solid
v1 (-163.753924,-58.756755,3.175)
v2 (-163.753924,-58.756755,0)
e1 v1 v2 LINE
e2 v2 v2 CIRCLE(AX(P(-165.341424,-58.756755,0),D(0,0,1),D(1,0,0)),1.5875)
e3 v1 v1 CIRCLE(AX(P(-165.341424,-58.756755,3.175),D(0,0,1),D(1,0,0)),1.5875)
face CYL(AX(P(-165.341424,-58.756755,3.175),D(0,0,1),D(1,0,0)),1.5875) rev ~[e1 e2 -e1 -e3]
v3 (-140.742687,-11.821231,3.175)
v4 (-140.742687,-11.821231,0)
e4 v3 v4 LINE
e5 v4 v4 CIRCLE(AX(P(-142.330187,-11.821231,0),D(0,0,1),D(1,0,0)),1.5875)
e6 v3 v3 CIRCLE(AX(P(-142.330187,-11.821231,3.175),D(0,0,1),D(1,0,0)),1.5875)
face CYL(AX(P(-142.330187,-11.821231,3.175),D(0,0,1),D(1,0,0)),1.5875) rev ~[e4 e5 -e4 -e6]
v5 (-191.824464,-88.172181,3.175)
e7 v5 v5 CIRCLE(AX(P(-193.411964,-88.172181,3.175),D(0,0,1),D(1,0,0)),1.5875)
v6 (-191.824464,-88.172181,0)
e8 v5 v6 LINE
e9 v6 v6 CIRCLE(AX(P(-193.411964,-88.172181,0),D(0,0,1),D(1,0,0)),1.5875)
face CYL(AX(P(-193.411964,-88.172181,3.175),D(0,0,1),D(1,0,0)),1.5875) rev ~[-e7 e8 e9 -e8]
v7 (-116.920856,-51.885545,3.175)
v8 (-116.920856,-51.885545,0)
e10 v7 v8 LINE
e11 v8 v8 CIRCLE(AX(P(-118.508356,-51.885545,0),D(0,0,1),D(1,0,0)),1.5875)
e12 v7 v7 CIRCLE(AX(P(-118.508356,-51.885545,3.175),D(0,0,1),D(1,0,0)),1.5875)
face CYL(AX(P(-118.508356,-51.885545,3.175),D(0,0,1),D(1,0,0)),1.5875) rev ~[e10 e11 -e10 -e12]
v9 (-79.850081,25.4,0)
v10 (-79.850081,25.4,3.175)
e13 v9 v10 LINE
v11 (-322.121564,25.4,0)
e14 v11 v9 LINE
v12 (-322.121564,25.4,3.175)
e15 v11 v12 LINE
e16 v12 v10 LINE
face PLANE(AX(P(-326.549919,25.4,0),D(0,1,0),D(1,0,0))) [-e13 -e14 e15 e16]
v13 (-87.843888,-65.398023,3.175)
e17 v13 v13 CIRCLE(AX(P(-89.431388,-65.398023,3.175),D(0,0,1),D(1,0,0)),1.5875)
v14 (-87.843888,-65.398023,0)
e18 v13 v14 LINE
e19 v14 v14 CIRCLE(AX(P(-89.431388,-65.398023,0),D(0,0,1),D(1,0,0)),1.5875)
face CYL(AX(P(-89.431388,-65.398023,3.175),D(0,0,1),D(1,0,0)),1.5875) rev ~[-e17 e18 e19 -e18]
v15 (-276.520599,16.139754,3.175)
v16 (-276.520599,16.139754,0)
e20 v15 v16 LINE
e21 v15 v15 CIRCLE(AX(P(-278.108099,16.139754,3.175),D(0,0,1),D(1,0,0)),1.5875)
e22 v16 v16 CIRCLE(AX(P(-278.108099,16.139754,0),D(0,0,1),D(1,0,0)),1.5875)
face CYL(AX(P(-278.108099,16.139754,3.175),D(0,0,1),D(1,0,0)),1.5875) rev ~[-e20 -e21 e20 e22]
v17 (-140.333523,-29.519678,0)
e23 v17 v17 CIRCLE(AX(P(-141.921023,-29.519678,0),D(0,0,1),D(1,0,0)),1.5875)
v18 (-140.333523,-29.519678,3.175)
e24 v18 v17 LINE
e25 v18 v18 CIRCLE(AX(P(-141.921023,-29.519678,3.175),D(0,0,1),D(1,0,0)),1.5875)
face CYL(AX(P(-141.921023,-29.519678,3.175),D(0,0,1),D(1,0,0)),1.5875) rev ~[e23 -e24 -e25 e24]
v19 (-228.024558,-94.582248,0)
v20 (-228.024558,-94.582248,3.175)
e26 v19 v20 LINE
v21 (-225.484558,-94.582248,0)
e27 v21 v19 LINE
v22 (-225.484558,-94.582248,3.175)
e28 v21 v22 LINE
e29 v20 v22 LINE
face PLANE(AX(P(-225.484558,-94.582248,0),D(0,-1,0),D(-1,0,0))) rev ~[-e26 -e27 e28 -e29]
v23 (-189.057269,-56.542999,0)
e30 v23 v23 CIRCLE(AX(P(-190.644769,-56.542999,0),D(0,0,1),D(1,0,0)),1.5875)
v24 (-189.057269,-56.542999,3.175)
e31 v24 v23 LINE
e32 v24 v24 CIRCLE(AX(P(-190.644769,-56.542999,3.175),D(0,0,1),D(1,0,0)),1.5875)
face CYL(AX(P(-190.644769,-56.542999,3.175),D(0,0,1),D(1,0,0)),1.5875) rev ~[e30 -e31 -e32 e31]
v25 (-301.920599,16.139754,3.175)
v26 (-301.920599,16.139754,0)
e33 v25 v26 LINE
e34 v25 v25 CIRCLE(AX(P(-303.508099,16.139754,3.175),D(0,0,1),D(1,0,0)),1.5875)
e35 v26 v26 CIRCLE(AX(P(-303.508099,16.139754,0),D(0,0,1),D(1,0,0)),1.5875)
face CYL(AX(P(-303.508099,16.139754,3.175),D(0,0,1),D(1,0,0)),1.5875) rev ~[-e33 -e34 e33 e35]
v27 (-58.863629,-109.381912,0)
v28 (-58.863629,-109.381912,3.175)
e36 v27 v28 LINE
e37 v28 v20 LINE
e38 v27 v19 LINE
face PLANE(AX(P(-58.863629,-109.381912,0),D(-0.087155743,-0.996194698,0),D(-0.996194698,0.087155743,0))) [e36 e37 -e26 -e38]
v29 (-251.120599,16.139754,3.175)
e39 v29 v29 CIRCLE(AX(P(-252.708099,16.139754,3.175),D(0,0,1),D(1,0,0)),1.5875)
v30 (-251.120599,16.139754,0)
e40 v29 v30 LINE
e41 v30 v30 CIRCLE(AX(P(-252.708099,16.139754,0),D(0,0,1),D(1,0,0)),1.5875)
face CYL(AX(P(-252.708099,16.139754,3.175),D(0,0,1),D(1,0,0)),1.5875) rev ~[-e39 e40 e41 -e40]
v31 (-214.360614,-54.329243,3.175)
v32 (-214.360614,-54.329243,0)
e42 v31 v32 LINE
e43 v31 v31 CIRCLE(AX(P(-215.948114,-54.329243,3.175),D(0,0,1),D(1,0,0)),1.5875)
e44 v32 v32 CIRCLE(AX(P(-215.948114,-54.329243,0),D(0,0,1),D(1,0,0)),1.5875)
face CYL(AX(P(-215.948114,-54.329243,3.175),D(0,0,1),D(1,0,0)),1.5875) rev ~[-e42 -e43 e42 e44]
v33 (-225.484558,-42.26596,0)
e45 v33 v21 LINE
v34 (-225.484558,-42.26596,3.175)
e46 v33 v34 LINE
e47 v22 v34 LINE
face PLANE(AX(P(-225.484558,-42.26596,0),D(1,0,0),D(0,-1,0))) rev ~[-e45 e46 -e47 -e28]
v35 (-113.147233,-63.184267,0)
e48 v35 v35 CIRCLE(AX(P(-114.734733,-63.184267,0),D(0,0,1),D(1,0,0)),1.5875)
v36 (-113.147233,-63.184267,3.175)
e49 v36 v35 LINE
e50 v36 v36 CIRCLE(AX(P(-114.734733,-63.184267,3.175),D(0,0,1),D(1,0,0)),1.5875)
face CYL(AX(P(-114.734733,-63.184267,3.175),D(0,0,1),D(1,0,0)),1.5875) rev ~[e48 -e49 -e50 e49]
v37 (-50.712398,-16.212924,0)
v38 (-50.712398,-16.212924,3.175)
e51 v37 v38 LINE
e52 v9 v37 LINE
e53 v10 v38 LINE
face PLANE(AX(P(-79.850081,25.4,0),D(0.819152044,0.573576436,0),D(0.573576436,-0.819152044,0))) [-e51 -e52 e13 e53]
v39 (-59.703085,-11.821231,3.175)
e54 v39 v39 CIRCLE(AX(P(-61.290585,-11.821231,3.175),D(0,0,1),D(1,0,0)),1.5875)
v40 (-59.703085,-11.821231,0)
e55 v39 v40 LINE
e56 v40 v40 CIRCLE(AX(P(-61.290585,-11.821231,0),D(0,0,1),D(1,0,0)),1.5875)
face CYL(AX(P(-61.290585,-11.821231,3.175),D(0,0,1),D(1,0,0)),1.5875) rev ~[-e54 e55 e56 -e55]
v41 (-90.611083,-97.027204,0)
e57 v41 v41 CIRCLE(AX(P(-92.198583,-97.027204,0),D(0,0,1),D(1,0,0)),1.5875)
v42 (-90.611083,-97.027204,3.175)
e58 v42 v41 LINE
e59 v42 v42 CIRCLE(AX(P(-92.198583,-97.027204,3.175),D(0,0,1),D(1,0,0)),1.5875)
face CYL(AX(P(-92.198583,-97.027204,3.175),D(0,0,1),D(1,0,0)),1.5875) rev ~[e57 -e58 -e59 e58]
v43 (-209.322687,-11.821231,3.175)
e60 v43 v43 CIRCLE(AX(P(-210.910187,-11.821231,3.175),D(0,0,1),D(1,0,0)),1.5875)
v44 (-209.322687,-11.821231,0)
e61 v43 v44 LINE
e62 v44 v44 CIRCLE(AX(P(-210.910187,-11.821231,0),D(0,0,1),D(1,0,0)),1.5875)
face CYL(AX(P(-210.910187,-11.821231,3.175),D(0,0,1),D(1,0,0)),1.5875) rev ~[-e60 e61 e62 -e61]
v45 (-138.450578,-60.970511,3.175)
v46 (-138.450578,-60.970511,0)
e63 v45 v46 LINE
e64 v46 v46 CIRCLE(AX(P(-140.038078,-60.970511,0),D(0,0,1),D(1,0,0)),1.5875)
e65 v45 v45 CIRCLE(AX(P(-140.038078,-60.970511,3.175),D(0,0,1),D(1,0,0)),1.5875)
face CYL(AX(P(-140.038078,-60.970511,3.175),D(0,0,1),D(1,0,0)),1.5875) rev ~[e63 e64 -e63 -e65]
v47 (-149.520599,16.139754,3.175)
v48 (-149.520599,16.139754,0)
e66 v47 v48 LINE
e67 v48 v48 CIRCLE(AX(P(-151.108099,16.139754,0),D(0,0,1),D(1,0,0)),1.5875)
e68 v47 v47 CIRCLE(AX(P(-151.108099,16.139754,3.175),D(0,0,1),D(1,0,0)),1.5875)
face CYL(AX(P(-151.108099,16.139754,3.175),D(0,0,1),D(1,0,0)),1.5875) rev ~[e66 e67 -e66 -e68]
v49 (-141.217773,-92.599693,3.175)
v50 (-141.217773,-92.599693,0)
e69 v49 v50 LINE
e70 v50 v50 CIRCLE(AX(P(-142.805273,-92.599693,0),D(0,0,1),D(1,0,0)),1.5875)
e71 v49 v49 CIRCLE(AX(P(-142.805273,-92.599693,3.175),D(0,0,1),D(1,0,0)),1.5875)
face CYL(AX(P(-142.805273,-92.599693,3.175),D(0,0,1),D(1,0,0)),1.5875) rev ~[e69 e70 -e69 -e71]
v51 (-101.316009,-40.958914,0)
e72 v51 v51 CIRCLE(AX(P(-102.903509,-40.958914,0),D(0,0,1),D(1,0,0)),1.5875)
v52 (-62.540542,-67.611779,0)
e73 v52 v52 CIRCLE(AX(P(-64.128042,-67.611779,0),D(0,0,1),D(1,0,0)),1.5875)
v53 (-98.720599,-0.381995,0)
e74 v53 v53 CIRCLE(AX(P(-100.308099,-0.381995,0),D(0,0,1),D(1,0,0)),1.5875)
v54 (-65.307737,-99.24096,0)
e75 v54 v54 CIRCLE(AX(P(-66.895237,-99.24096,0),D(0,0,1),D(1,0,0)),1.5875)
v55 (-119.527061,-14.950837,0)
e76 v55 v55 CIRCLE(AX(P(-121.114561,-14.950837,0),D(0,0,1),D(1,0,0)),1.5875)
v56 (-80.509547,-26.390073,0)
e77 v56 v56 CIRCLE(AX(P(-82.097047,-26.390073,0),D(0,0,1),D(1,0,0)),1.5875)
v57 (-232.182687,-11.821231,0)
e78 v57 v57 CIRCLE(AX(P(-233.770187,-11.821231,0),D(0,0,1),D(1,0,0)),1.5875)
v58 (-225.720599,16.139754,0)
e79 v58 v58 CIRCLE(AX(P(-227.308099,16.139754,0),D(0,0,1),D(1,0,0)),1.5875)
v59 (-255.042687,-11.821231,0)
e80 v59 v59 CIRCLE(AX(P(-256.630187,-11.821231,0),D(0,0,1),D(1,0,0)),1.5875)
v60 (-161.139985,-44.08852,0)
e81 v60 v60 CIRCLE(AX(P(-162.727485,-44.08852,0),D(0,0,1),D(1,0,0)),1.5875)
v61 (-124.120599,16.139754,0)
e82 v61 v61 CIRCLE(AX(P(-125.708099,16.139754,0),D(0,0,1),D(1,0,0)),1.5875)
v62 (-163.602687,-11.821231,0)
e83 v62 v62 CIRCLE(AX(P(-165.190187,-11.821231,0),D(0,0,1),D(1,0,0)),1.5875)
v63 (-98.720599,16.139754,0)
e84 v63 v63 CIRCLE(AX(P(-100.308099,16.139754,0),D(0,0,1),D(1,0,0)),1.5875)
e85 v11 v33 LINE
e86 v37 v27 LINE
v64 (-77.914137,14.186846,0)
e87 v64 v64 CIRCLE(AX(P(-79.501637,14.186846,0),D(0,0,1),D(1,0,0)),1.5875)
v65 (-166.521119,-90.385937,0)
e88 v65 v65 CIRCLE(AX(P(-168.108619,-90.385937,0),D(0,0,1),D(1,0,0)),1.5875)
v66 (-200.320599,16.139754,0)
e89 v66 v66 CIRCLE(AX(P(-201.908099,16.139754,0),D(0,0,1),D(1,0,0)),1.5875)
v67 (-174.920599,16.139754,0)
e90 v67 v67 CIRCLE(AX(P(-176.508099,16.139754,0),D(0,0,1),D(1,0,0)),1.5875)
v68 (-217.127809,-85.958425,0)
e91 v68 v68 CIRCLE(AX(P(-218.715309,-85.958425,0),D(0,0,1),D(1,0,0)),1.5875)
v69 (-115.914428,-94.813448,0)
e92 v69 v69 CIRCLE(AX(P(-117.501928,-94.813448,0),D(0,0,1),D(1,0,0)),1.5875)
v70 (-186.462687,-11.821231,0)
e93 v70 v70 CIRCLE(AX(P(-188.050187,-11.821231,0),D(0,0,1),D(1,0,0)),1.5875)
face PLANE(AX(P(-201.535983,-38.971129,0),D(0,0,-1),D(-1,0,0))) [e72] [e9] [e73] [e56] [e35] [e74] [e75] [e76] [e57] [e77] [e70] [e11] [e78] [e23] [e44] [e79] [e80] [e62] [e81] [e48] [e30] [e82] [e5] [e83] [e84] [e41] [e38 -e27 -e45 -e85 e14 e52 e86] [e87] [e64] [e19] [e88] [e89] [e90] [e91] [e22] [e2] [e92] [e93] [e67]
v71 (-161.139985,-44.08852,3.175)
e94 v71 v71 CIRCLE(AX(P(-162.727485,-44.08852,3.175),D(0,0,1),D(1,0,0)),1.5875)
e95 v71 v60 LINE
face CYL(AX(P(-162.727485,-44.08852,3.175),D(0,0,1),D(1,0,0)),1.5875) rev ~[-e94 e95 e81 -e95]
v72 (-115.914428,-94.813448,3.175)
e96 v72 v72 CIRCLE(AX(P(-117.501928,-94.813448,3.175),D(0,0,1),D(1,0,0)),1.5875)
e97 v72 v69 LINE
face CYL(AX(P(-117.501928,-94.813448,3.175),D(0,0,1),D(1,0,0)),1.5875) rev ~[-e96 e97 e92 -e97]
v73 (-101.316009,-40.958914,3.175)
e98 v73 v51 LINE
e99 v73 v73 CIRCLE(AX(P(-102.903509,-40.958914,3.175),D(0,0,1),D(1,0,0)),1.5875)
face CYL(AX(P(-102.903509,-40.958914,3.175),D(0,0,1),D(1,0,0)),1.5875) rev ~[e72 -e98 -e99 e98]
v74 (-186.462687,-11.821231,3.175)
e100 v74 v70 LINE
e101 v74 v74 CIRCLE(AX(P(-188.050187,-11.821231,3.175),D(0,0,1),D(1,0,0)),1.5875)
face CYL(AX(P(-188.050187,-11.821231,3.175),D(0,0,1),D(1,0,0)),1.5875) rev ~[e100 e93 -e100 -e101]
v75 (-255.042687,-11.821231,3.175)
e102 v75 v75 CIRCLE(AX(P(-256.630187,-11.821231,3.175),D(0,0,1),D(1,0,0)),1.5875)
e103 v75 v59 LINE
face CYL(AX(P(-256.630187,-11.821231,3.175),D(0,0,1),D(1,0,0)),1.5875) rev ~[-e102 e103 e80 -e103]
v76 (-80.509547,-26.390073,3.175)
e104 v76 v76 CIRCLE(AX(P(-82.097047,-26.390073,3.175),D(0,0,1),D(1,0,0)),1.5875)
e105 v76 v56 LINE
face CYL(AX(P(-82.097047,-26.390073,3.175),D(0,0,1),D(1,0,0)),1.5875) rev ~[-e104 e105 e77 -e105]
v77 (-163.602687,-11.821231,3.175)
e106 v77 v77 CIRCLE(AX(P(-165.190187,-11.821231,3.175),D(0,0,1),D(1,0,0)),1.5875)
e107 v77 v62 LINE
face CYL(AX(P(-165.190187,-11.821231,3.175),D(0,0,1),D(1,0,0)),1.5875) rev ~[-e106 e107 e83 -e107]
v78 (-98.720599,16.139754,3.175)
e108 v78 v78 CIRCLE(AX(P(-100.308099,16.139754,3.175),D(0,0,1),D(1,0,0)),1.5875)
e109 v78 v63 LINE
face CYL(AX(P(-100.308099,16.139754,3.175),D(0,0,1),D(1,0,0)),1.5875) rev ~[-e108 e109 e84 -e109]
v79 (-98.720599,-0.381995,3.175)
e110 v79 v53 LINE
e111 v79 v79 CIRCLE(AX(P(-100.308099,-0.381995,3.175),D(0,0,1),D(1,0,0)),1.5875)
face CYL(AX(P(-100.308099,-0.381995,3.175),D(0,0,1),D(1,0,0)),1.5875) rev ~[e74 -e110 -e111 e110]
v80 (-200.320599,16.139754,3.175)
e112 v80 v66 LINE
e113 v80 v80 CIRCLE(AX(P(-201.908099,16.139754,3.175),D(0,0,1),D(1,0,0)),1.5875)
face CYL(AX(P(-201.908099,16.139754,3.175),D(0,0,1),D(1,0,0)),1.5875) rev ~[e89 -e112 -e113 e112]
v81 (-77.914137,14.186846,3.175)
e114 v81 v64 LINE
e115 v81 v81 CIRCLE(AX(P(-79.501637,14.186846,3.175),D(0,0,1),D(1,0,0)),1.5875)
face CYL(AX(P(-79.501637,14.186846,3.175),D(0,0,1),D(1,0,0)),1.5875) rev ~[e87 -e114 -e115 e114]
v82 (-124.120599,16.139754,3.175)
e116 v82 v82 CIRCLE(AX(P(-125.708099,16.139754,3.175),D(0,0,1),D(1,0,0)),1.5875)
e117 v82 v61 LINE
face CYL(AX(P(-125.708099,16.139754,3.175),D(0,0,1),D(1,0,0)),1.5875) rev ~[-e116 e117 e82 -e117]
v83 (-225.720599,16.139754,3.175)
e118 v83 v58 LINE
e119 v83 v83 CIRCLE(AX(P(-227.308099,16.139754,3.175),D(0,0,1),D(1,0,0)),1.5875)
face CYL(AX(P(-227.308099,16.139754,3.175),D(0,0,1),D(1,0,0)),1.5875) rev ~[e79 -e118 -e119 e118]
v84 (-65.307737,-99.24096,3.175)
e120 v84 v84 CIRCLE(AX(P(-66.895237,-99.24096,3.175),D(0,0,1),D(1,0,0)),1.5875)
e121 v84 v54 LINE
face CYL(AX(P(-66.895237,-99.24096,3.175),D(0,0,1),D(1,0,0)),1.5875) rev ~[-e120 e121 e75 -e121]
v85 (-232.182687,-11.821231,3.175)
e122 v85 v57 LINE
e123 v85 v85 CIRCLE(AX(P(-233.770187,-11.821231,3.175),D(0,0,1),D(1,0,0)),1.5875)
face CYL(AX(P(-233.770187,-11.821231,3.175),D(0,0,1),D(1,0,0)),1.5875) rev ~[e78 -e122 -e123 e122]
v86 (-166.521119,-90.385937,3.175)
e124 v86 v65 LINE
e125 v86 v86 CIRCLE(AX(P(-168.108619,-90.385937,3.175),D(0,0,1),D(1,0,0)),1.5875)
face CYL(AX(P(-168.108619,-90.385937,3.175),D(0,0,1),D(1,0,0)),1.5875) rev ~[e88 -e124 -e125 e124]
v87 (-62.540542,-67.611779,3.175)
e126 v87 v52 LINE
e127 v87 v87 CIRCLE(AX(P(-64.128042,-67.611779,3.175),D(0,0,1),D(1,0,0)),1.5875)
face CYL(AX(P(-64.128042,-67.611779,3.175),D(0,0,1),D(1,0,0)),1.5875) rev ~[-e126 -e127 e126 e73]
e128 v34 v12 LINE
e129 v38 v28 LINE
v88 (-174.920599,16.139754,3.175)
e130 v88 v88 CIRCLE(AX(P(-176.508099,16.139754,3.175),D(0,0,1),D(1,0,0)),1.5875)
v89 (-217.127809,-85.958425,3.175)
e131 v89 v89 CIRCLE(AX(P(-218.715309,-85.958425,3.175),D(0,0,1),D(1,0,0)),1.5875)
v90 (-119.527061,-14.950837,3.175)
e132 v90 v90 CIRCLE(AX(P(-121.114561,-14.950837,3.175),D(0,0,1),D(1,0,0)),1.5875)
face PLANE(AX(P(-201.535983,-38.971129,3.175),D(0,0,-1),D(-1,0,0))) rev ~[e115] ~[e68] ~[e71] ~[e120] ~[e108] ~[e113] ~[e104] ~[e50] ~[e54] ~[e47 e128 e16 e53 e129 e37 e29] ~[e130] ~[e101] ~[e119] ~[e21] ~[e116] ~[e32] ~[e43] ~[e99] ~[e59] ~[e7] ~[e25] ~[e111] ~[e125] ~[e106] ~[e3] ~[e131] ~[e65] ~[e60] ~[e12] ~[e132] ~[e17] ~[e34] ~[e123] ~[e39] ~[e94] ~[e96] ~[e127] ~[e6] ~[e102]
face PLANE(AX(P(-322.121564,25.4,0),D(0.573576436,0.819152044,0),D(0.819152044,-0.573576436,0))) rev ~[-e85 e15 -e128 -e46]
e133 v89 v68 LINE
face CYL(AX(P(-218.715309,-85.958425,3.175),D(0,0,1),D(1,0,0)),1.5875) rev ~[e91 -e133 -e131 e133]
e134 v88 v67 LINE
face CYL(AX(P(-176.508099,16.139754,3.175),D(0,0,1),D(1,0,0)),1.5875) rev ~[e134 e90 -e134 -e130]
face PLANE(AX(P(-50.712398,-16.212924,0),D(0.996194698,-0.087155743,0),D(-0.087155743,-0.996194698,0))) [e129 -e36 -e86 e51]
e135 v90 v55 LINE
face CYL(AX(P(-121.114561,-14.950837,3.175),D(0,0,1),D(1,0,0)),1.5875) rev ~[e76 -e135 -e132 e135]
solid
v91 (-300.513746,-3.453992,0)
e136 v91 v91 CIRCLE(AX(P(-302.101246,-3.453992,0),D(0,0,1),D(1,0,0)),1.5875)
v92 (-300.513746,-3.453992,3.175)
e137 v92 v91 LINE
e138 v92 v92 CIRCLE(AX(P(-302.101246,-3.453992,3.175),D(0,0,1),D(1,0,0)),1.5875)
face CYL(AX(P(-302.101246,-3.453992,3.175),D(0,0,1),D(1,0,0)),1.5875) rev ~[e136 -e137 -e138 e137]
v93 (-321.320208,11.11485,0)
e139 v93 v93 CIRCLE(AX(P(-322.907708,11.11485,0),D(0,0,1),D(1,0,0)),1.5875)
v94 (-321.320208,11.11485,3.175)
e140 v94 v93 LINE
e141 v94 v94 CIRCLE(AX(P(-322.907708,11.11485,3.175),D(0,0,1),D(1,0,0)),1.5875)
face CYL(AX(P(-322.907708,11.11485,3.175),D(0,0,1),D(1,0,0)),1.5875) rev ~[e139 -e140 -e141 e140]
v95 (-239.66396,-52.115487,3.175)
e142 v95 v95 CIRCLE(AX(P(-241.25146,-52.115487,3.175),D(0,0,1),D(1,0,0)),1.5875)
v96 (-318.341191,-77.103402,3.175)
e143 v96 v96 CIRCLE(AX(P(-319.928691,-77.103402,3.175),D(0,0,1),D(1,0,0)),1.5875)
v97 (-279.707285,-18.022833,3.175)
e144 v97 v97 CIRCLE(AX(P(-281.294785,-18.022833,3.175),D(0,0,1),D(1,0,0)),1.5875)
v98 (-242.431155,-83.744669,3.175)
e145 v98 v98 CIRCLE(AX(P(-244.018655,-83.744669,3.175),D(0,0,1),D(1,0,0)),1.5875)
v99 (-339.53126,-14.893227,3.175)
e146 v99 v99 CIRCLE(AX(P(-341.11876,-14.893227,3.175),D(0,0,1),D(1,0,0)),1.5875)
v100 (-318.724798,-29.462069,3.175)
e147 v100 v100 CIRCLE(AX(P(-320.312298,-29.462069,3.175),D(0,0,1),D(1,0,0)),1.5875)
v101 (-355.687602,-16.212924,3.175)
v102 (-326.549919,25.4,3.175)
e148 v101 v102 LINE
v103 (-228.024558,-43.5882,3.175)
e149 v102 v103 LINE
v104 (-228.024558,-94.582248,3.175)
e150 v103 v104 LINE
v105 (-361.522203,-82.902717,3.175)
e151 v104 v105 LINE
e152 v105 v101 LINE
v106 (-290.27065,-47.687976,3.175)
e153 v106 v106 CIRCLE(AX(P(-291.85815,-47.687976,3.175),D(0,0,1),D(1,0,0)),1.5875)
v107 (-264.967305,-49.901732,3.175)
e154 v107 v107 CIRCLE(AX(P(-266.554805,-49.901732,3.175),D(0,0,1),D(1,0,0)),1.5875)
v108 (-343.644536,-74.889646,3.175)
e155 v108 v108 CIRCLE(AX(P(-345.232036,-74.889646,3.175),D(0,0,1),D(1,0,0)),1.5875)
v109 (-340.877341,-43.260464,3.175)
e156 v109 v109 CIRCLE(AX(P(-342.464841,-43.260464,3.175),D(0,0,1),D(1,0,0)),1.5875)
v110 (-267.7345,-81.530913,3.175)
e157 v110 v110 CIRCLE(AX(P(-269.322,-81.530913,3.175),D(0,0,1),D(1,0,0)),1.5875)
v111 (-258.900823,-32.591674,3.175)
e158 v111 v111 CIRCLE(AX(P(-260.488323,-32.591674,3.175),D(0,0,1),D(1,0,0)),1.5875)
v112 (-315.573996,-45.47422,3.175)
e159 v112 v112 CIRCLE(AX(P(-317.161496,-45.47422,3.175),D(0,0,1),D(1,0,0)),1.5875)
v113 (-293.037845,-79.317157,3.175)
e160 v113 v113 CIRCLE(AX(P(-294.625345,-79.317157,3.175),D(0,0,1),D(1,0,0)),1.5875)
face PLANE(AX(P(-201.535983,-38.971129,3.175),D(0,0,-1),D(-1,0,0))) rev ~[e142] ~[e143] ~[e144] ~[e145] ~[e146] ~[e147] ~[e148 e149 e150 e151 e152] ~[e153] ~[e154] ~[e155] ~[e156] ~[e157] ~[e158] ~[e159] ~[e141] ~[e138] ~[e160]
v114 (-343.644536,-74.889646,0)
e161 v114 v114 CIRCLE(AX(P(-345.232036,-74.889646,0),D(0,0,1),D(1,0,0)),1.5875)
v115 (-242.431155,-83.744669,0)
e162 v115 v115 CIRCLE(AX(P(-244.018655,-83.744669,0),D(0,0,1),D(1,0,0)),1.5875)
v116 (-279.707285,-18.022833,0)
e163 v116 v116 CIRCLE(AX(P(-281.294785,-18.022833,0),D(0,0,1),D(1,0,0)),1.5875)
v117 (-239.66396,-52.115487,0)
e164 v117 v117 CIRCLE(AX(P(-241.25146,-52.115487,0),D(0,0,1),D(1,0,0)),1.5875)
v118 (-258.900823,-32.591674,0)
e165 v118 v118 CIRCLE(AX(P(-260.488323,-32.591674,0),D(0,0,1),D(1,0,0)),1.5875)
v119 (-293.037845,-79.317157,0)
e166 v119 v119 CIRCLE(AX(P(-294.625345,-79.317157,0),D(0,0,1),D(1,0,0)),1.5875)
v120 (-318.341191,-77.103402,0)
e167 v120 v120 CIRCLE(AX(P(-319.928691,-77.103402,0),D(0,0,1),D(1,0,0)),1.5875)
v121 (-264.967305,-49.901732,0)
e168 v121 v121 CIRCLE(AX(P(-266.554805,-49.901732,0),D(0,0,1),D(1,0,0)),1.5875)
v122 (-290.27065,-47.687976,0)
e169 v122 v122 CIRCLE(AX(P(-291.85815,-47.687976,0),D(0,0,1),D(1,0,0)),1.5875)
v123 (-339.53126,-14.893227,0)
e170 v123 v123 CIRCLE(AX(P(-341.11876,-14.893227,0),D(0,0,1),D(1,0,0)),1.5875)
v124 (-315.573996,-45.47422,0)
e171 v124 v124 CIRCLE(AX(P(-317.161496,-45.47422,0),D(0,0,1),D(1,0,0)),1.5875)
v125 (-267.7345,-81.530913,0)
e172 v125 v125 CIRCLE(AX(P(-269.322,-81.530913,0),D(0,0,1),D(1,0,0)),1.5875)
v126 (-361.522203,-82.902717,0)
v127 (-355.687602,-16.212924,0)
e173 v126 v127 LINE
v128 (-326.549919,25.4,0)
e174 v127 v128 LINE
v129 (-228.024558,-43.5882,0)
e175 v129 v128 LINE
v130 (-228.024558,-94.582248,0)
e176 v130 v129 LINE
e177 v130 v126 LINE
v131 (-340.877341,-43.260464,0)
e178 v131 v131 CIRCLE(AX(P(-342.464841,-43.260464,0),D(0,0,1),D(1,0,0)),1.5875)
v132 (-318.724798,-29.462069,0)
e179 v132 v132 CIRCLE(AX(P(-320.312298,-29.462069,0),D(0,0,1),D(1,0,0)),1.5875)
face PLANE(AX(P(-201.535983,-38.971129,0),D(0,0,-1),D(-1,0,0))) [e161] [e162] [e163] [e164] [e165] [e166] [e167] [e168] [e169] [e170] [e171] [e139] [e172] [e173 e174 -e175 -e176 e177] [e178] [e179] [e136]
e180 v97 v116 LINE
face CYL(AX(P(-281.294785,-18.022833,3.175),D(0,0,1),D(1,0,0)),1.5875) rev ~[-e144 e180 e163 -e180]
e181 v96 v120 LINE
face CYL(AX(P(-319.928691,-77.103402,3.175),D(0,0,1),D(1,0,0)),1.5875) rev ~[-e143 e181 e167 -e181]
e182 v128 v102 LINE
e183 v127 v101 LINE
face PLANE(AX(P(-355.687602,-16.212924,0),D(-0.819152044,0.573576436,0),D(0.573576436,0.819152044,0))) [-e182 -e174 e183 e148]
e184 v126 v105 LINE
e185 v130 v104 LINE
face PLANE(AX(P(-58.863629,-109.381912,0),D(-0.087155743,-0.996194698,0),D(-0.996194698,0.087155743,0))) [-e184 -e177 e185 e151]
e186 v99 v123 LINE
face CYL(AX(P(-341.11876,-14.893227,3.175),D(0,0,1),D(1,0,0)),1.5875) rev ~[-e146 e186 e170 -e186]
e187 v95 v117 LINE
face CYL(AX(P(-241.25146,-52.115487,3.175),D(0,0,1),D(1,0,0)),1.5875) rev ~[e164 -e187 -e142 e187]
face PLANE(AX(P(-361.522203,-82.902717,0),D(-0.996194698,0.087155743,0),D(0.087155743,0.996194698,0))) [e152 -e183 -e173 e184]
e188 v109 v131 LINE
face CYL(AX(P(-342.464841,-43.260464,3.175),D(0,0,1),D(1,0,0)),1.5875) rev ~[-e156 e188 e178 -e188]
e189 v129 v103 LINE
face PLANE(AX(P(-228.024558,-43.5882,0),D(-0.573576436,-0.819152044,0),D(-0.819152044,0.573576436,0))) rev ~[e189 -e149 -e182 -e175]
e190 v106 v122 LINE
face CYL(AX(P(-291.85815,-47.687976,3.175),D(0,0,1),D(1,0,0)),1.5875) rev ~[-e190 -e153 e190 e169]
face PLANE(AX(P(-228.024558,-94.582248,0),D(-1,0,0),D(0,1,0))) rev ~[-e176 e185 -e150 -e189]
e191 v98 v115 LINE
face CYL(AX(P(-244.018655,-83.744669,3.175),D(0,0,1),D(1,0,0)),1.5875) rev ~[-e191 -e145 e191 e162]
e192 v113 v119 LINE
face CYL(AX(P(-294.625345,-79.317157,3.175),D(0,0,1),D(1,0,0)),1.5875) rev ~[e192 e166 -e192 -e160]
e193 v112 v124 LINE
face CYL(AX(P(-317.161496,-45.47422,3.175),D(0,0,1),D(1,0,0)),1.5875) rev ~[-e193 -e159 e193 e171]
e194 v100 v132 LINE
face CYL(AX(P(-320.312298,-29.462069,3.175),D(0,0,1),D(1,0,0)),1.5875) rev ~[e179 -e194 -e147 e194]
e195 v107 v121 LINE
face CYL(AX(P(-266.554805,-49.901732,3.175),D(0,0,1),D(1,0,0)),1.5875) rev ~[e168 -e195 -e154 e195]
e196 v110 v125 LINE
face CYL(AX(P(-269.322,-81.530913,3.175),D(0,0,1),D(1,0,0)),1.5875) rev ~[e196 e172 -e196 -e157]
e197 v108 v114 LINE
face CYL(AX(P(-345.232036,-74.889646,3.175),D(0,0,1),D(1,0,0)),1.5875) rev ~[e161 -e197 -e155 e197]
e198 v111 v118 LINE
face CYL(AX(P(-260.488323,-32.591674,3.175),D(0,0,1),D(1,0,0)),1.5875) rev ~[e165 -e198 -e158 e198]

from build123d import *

# Parameters (mm, degrees)
BOSS_EXTRUDE1_DEPTH = 3.175
SKETCH2_R           = 1.5875
CUT_EXTRUDE1_DEPTH  = 3.175
CUT_EXTRUDE2_REACH  = 379.721


with BuildPart() as part:
    # Sketch1 → Boss-Extrude1 (new body)
    with BuildSketch(Plane.XY):
        Polygon((-79.850081257, 25.4), (-50.712398291, -16.21292385), (-58.863628506, -109.381911546), (-361.522202617, -82.902717393), (-355.687601709, -16.21292385), (-326.549918742, 25.4), align=None)
    extrude(amount=BOSS_EXTRUDE1_DEPTH)

    # Sketch2 → Cut-Extrude1 (cut)
    with BuildSketch(Plane.XY.offset(3.175)):
        with Locations((-66.89523724, -99.240960223)):
            Circle(SKETCH2_R)
        with Locations((-92.198582572, -97.027204357)):
            Circle(SKETCH2_R)
        with Locations((-117.501927903, -94.813448491)):
            Circle(SKETCH2_R)
        with Locations((-142.805273235, -92.599692625)):
            Circle(SKETCH2_R)
        with Locations((-168.108618566, -90.38593676)):
            Circle(SKETCH2_R)
        with Locations((-193.411963898, -88.172180894)):
            Circle(SKETCH2_R)
        with Locations((-218.715309229, -85.958425028)):
            Circle(SKETCH2_R)
        with Locations((-244.018654561, -83.744669162)):
            Circle(SKETCH2_R)
        with Locations((-269.321999892, -81.530913296)):
            Circle(SKETCH2_R)
        with Locations((-294.625345224, -79.317157431)):
            Circle(SKETCH2_R)
        with Locations((-319.928690555, -77.103401565)):
            Circle(SKETCH2_R)
        with Locations((-345.232035887, -74.889645699)):
            Circle(SKETCH2_R)
        with Locations((-89.431387739, -65.398022693)):
            Circle(SKETCH2_R)
        with Locations((-114.734733071, -63.184266827)):
            Circle(SKETCH2_R)
        with Locations((-140.038078403, -60.970510961)):
            Circle(SKETCH2_R)
        with Locations((-165.341423734, -58.756755095)):
            Circle(SKETCH2_R)
        with Locations((-190.644769066, -56.542999229)):
            Circle(SKETCH2_R)
        with Locations((-215.948114397, -54.329243364)):
            Circle(SKETCH2_R)
        with Locations((-241.251459729, -52.115487498)):
            Circle(SKETCH2_R)
        with Locations((-266.55480506, -49.901731632)):
            Circle(SKETCH2_R)
        with Locations((-291.858150392, -47.687975766)):
            Circle(SKETCH2_R)
        with Locations((-317.161495723, -45.4742199)):
            Circle(SKETCH2_R)
        with Locations((-342.464841055, -43.260464035)):
            Circle(SKETCH2_R)
        with Locations((-64.128042408, -67.611778558)):
            Circle(SKETCH2_R)
        with Locations((-61.290585417, -11.821231321)):
            Circle(SKETCH2_R)
        with Locations((-82.097047342, -26.390072805)):
            Circle(SKETCH2_R)
        with Locations((-102.903509267, -40.958914288)):
            Circle(SKETCH2_R)
        with Locations((-118.508355711, -51.8855454)):
            Circle(SKETCH2_R)
        with Locations((-162.727484971, -44.088519848)):
            Circle(SKETCH2_R)
        with Locations((-141.921023046, -29.519678365)):
            Circle(SKETCH2_R)
        with Locations((-121.114561121, -14.950836882)):
            Circle(SKETCH2_R)
        with Locations((-100.308099196, -0.381995398)):
            Circle(SKETCH2_R)
        with Locations((-79.501637271, 14.186846085)):
            Circle(SKETCH2_R)
        with Locations((-100.308099196, 16.139754211)):
            Circle(SKETCH2_R)
        with Locations((-125.708099196, 16.139754211)):
            Circle(SKETCH2_R)
        with Locations((-151.108099196, 16.139754211)):
            Circle(SKETCH2_R)
        with Locations((-176.508099196, 16.139754211)):
            Circle(SKETCH2_R)
        with Locations((-201.908099196, 16.139754211)):
            Circle(SKETCH2_R)
        with Locations((-227.308099196, 16.139754211)):
            Circle(SKETCH2_R)
        with Locations((-252.708099196, 16.139754211)):
            Circle(SKETCH2_R)
        with Locations((-278.108099196, 16.139754211)):
            Circle(SKETCH2_R)
        with Locations((-303.508099196, 16.139754211)):
            Circle(SKETCH2_R)
        with Locations((-142.330186502, -11.821231321)):
            Circle(SKETCH2_R)
        with Locations((-165.190186502, -11.821231321)):
            Circle(SKETCH2_R)
        with Locations((-188.050186502, -11.821231321)):
            Circle(SKETCH2_R)
        with Locations((-210.910186502, -11.821231321)):
            Circle(SKETCH2_R)
        with Locations((-233.770186502, -11.821231321)):
            Circle(SKETCH2_R)
        with Locations((-256.630186502, -11.821231321)):
            Circle(SKETCH2_R)
        with Locations((-322.907708372, 11.114849959)):
            Circle(SKETCH2_R)
        with Locations((-341.118760226, -14.893227447)):
            Circle(SKETCH2_R)
        with Locations((-302.101246447, -3.453991524)):
            Circle(SKETCH2_R)
        with Locations((-281.294784522, -18.022833007)):
            Circle(SKETCH2_R)
        with Locations((-260.488322597, -32.591674491)):
            Circle(SKETCH2_R)
        with Locations((-320.312298301, -29.46206893)):
            Circle(SKETCH2_R)
    extrude(amount=-CUT_EXTRUDE1_DEPTH, mode=Mode.SUBTRACT)

    # Sketch3 → Cut-Extrude2 (cut, up to next)
    with BuildSketch(Plane(origin=(0, 0, 0), x_dir=(-1, 0, 0), z_dir=(0, 0, -1)), mode=Mode.PRIVATE) as cut_extrude2_sk1:
        Polygon((228.024558259, -94.582247881), (228.024558259, -43.588200115), (326.549918742, 25.4), (322.121563882, 25.4), (225.484558259, -42.265959807), (225.484558259, -94.582247881), align=None)
    cut_extrude2_tool1 = extrude(cut_extrude2_sk1.sketch, amount=-CUT_EXTRUDE2_REACH, mode=Mode.PRIVATE) & part.part
    add(cut_extrude2_tool1.solids().sort_by_distance((-226.455802, -69.085224, 0))[0], mode=Mode.SUBTRACT)


with BuildPart() as cut_extrude2_piece_1:
    # of the separate pieces the step leaves, piece 1, a body of its own (cut_extrude2_pieces)
    add(part.part.solids().sort_by_distance((-79.850081257, 25.4, 0))[0])


with BuildPart() as cut_extrude2_piece_2:
    # of the separate pieces the step leaves, piece 2, a body of its own (cut_extrude2_pieces)
    add(part.part.solids().sort_by_distance((-355.687601709, -16.21292385, 0))[0])


solid = Compound([cut_extrude2_piece_1.part, cut_extrude2_piece_2.part])
